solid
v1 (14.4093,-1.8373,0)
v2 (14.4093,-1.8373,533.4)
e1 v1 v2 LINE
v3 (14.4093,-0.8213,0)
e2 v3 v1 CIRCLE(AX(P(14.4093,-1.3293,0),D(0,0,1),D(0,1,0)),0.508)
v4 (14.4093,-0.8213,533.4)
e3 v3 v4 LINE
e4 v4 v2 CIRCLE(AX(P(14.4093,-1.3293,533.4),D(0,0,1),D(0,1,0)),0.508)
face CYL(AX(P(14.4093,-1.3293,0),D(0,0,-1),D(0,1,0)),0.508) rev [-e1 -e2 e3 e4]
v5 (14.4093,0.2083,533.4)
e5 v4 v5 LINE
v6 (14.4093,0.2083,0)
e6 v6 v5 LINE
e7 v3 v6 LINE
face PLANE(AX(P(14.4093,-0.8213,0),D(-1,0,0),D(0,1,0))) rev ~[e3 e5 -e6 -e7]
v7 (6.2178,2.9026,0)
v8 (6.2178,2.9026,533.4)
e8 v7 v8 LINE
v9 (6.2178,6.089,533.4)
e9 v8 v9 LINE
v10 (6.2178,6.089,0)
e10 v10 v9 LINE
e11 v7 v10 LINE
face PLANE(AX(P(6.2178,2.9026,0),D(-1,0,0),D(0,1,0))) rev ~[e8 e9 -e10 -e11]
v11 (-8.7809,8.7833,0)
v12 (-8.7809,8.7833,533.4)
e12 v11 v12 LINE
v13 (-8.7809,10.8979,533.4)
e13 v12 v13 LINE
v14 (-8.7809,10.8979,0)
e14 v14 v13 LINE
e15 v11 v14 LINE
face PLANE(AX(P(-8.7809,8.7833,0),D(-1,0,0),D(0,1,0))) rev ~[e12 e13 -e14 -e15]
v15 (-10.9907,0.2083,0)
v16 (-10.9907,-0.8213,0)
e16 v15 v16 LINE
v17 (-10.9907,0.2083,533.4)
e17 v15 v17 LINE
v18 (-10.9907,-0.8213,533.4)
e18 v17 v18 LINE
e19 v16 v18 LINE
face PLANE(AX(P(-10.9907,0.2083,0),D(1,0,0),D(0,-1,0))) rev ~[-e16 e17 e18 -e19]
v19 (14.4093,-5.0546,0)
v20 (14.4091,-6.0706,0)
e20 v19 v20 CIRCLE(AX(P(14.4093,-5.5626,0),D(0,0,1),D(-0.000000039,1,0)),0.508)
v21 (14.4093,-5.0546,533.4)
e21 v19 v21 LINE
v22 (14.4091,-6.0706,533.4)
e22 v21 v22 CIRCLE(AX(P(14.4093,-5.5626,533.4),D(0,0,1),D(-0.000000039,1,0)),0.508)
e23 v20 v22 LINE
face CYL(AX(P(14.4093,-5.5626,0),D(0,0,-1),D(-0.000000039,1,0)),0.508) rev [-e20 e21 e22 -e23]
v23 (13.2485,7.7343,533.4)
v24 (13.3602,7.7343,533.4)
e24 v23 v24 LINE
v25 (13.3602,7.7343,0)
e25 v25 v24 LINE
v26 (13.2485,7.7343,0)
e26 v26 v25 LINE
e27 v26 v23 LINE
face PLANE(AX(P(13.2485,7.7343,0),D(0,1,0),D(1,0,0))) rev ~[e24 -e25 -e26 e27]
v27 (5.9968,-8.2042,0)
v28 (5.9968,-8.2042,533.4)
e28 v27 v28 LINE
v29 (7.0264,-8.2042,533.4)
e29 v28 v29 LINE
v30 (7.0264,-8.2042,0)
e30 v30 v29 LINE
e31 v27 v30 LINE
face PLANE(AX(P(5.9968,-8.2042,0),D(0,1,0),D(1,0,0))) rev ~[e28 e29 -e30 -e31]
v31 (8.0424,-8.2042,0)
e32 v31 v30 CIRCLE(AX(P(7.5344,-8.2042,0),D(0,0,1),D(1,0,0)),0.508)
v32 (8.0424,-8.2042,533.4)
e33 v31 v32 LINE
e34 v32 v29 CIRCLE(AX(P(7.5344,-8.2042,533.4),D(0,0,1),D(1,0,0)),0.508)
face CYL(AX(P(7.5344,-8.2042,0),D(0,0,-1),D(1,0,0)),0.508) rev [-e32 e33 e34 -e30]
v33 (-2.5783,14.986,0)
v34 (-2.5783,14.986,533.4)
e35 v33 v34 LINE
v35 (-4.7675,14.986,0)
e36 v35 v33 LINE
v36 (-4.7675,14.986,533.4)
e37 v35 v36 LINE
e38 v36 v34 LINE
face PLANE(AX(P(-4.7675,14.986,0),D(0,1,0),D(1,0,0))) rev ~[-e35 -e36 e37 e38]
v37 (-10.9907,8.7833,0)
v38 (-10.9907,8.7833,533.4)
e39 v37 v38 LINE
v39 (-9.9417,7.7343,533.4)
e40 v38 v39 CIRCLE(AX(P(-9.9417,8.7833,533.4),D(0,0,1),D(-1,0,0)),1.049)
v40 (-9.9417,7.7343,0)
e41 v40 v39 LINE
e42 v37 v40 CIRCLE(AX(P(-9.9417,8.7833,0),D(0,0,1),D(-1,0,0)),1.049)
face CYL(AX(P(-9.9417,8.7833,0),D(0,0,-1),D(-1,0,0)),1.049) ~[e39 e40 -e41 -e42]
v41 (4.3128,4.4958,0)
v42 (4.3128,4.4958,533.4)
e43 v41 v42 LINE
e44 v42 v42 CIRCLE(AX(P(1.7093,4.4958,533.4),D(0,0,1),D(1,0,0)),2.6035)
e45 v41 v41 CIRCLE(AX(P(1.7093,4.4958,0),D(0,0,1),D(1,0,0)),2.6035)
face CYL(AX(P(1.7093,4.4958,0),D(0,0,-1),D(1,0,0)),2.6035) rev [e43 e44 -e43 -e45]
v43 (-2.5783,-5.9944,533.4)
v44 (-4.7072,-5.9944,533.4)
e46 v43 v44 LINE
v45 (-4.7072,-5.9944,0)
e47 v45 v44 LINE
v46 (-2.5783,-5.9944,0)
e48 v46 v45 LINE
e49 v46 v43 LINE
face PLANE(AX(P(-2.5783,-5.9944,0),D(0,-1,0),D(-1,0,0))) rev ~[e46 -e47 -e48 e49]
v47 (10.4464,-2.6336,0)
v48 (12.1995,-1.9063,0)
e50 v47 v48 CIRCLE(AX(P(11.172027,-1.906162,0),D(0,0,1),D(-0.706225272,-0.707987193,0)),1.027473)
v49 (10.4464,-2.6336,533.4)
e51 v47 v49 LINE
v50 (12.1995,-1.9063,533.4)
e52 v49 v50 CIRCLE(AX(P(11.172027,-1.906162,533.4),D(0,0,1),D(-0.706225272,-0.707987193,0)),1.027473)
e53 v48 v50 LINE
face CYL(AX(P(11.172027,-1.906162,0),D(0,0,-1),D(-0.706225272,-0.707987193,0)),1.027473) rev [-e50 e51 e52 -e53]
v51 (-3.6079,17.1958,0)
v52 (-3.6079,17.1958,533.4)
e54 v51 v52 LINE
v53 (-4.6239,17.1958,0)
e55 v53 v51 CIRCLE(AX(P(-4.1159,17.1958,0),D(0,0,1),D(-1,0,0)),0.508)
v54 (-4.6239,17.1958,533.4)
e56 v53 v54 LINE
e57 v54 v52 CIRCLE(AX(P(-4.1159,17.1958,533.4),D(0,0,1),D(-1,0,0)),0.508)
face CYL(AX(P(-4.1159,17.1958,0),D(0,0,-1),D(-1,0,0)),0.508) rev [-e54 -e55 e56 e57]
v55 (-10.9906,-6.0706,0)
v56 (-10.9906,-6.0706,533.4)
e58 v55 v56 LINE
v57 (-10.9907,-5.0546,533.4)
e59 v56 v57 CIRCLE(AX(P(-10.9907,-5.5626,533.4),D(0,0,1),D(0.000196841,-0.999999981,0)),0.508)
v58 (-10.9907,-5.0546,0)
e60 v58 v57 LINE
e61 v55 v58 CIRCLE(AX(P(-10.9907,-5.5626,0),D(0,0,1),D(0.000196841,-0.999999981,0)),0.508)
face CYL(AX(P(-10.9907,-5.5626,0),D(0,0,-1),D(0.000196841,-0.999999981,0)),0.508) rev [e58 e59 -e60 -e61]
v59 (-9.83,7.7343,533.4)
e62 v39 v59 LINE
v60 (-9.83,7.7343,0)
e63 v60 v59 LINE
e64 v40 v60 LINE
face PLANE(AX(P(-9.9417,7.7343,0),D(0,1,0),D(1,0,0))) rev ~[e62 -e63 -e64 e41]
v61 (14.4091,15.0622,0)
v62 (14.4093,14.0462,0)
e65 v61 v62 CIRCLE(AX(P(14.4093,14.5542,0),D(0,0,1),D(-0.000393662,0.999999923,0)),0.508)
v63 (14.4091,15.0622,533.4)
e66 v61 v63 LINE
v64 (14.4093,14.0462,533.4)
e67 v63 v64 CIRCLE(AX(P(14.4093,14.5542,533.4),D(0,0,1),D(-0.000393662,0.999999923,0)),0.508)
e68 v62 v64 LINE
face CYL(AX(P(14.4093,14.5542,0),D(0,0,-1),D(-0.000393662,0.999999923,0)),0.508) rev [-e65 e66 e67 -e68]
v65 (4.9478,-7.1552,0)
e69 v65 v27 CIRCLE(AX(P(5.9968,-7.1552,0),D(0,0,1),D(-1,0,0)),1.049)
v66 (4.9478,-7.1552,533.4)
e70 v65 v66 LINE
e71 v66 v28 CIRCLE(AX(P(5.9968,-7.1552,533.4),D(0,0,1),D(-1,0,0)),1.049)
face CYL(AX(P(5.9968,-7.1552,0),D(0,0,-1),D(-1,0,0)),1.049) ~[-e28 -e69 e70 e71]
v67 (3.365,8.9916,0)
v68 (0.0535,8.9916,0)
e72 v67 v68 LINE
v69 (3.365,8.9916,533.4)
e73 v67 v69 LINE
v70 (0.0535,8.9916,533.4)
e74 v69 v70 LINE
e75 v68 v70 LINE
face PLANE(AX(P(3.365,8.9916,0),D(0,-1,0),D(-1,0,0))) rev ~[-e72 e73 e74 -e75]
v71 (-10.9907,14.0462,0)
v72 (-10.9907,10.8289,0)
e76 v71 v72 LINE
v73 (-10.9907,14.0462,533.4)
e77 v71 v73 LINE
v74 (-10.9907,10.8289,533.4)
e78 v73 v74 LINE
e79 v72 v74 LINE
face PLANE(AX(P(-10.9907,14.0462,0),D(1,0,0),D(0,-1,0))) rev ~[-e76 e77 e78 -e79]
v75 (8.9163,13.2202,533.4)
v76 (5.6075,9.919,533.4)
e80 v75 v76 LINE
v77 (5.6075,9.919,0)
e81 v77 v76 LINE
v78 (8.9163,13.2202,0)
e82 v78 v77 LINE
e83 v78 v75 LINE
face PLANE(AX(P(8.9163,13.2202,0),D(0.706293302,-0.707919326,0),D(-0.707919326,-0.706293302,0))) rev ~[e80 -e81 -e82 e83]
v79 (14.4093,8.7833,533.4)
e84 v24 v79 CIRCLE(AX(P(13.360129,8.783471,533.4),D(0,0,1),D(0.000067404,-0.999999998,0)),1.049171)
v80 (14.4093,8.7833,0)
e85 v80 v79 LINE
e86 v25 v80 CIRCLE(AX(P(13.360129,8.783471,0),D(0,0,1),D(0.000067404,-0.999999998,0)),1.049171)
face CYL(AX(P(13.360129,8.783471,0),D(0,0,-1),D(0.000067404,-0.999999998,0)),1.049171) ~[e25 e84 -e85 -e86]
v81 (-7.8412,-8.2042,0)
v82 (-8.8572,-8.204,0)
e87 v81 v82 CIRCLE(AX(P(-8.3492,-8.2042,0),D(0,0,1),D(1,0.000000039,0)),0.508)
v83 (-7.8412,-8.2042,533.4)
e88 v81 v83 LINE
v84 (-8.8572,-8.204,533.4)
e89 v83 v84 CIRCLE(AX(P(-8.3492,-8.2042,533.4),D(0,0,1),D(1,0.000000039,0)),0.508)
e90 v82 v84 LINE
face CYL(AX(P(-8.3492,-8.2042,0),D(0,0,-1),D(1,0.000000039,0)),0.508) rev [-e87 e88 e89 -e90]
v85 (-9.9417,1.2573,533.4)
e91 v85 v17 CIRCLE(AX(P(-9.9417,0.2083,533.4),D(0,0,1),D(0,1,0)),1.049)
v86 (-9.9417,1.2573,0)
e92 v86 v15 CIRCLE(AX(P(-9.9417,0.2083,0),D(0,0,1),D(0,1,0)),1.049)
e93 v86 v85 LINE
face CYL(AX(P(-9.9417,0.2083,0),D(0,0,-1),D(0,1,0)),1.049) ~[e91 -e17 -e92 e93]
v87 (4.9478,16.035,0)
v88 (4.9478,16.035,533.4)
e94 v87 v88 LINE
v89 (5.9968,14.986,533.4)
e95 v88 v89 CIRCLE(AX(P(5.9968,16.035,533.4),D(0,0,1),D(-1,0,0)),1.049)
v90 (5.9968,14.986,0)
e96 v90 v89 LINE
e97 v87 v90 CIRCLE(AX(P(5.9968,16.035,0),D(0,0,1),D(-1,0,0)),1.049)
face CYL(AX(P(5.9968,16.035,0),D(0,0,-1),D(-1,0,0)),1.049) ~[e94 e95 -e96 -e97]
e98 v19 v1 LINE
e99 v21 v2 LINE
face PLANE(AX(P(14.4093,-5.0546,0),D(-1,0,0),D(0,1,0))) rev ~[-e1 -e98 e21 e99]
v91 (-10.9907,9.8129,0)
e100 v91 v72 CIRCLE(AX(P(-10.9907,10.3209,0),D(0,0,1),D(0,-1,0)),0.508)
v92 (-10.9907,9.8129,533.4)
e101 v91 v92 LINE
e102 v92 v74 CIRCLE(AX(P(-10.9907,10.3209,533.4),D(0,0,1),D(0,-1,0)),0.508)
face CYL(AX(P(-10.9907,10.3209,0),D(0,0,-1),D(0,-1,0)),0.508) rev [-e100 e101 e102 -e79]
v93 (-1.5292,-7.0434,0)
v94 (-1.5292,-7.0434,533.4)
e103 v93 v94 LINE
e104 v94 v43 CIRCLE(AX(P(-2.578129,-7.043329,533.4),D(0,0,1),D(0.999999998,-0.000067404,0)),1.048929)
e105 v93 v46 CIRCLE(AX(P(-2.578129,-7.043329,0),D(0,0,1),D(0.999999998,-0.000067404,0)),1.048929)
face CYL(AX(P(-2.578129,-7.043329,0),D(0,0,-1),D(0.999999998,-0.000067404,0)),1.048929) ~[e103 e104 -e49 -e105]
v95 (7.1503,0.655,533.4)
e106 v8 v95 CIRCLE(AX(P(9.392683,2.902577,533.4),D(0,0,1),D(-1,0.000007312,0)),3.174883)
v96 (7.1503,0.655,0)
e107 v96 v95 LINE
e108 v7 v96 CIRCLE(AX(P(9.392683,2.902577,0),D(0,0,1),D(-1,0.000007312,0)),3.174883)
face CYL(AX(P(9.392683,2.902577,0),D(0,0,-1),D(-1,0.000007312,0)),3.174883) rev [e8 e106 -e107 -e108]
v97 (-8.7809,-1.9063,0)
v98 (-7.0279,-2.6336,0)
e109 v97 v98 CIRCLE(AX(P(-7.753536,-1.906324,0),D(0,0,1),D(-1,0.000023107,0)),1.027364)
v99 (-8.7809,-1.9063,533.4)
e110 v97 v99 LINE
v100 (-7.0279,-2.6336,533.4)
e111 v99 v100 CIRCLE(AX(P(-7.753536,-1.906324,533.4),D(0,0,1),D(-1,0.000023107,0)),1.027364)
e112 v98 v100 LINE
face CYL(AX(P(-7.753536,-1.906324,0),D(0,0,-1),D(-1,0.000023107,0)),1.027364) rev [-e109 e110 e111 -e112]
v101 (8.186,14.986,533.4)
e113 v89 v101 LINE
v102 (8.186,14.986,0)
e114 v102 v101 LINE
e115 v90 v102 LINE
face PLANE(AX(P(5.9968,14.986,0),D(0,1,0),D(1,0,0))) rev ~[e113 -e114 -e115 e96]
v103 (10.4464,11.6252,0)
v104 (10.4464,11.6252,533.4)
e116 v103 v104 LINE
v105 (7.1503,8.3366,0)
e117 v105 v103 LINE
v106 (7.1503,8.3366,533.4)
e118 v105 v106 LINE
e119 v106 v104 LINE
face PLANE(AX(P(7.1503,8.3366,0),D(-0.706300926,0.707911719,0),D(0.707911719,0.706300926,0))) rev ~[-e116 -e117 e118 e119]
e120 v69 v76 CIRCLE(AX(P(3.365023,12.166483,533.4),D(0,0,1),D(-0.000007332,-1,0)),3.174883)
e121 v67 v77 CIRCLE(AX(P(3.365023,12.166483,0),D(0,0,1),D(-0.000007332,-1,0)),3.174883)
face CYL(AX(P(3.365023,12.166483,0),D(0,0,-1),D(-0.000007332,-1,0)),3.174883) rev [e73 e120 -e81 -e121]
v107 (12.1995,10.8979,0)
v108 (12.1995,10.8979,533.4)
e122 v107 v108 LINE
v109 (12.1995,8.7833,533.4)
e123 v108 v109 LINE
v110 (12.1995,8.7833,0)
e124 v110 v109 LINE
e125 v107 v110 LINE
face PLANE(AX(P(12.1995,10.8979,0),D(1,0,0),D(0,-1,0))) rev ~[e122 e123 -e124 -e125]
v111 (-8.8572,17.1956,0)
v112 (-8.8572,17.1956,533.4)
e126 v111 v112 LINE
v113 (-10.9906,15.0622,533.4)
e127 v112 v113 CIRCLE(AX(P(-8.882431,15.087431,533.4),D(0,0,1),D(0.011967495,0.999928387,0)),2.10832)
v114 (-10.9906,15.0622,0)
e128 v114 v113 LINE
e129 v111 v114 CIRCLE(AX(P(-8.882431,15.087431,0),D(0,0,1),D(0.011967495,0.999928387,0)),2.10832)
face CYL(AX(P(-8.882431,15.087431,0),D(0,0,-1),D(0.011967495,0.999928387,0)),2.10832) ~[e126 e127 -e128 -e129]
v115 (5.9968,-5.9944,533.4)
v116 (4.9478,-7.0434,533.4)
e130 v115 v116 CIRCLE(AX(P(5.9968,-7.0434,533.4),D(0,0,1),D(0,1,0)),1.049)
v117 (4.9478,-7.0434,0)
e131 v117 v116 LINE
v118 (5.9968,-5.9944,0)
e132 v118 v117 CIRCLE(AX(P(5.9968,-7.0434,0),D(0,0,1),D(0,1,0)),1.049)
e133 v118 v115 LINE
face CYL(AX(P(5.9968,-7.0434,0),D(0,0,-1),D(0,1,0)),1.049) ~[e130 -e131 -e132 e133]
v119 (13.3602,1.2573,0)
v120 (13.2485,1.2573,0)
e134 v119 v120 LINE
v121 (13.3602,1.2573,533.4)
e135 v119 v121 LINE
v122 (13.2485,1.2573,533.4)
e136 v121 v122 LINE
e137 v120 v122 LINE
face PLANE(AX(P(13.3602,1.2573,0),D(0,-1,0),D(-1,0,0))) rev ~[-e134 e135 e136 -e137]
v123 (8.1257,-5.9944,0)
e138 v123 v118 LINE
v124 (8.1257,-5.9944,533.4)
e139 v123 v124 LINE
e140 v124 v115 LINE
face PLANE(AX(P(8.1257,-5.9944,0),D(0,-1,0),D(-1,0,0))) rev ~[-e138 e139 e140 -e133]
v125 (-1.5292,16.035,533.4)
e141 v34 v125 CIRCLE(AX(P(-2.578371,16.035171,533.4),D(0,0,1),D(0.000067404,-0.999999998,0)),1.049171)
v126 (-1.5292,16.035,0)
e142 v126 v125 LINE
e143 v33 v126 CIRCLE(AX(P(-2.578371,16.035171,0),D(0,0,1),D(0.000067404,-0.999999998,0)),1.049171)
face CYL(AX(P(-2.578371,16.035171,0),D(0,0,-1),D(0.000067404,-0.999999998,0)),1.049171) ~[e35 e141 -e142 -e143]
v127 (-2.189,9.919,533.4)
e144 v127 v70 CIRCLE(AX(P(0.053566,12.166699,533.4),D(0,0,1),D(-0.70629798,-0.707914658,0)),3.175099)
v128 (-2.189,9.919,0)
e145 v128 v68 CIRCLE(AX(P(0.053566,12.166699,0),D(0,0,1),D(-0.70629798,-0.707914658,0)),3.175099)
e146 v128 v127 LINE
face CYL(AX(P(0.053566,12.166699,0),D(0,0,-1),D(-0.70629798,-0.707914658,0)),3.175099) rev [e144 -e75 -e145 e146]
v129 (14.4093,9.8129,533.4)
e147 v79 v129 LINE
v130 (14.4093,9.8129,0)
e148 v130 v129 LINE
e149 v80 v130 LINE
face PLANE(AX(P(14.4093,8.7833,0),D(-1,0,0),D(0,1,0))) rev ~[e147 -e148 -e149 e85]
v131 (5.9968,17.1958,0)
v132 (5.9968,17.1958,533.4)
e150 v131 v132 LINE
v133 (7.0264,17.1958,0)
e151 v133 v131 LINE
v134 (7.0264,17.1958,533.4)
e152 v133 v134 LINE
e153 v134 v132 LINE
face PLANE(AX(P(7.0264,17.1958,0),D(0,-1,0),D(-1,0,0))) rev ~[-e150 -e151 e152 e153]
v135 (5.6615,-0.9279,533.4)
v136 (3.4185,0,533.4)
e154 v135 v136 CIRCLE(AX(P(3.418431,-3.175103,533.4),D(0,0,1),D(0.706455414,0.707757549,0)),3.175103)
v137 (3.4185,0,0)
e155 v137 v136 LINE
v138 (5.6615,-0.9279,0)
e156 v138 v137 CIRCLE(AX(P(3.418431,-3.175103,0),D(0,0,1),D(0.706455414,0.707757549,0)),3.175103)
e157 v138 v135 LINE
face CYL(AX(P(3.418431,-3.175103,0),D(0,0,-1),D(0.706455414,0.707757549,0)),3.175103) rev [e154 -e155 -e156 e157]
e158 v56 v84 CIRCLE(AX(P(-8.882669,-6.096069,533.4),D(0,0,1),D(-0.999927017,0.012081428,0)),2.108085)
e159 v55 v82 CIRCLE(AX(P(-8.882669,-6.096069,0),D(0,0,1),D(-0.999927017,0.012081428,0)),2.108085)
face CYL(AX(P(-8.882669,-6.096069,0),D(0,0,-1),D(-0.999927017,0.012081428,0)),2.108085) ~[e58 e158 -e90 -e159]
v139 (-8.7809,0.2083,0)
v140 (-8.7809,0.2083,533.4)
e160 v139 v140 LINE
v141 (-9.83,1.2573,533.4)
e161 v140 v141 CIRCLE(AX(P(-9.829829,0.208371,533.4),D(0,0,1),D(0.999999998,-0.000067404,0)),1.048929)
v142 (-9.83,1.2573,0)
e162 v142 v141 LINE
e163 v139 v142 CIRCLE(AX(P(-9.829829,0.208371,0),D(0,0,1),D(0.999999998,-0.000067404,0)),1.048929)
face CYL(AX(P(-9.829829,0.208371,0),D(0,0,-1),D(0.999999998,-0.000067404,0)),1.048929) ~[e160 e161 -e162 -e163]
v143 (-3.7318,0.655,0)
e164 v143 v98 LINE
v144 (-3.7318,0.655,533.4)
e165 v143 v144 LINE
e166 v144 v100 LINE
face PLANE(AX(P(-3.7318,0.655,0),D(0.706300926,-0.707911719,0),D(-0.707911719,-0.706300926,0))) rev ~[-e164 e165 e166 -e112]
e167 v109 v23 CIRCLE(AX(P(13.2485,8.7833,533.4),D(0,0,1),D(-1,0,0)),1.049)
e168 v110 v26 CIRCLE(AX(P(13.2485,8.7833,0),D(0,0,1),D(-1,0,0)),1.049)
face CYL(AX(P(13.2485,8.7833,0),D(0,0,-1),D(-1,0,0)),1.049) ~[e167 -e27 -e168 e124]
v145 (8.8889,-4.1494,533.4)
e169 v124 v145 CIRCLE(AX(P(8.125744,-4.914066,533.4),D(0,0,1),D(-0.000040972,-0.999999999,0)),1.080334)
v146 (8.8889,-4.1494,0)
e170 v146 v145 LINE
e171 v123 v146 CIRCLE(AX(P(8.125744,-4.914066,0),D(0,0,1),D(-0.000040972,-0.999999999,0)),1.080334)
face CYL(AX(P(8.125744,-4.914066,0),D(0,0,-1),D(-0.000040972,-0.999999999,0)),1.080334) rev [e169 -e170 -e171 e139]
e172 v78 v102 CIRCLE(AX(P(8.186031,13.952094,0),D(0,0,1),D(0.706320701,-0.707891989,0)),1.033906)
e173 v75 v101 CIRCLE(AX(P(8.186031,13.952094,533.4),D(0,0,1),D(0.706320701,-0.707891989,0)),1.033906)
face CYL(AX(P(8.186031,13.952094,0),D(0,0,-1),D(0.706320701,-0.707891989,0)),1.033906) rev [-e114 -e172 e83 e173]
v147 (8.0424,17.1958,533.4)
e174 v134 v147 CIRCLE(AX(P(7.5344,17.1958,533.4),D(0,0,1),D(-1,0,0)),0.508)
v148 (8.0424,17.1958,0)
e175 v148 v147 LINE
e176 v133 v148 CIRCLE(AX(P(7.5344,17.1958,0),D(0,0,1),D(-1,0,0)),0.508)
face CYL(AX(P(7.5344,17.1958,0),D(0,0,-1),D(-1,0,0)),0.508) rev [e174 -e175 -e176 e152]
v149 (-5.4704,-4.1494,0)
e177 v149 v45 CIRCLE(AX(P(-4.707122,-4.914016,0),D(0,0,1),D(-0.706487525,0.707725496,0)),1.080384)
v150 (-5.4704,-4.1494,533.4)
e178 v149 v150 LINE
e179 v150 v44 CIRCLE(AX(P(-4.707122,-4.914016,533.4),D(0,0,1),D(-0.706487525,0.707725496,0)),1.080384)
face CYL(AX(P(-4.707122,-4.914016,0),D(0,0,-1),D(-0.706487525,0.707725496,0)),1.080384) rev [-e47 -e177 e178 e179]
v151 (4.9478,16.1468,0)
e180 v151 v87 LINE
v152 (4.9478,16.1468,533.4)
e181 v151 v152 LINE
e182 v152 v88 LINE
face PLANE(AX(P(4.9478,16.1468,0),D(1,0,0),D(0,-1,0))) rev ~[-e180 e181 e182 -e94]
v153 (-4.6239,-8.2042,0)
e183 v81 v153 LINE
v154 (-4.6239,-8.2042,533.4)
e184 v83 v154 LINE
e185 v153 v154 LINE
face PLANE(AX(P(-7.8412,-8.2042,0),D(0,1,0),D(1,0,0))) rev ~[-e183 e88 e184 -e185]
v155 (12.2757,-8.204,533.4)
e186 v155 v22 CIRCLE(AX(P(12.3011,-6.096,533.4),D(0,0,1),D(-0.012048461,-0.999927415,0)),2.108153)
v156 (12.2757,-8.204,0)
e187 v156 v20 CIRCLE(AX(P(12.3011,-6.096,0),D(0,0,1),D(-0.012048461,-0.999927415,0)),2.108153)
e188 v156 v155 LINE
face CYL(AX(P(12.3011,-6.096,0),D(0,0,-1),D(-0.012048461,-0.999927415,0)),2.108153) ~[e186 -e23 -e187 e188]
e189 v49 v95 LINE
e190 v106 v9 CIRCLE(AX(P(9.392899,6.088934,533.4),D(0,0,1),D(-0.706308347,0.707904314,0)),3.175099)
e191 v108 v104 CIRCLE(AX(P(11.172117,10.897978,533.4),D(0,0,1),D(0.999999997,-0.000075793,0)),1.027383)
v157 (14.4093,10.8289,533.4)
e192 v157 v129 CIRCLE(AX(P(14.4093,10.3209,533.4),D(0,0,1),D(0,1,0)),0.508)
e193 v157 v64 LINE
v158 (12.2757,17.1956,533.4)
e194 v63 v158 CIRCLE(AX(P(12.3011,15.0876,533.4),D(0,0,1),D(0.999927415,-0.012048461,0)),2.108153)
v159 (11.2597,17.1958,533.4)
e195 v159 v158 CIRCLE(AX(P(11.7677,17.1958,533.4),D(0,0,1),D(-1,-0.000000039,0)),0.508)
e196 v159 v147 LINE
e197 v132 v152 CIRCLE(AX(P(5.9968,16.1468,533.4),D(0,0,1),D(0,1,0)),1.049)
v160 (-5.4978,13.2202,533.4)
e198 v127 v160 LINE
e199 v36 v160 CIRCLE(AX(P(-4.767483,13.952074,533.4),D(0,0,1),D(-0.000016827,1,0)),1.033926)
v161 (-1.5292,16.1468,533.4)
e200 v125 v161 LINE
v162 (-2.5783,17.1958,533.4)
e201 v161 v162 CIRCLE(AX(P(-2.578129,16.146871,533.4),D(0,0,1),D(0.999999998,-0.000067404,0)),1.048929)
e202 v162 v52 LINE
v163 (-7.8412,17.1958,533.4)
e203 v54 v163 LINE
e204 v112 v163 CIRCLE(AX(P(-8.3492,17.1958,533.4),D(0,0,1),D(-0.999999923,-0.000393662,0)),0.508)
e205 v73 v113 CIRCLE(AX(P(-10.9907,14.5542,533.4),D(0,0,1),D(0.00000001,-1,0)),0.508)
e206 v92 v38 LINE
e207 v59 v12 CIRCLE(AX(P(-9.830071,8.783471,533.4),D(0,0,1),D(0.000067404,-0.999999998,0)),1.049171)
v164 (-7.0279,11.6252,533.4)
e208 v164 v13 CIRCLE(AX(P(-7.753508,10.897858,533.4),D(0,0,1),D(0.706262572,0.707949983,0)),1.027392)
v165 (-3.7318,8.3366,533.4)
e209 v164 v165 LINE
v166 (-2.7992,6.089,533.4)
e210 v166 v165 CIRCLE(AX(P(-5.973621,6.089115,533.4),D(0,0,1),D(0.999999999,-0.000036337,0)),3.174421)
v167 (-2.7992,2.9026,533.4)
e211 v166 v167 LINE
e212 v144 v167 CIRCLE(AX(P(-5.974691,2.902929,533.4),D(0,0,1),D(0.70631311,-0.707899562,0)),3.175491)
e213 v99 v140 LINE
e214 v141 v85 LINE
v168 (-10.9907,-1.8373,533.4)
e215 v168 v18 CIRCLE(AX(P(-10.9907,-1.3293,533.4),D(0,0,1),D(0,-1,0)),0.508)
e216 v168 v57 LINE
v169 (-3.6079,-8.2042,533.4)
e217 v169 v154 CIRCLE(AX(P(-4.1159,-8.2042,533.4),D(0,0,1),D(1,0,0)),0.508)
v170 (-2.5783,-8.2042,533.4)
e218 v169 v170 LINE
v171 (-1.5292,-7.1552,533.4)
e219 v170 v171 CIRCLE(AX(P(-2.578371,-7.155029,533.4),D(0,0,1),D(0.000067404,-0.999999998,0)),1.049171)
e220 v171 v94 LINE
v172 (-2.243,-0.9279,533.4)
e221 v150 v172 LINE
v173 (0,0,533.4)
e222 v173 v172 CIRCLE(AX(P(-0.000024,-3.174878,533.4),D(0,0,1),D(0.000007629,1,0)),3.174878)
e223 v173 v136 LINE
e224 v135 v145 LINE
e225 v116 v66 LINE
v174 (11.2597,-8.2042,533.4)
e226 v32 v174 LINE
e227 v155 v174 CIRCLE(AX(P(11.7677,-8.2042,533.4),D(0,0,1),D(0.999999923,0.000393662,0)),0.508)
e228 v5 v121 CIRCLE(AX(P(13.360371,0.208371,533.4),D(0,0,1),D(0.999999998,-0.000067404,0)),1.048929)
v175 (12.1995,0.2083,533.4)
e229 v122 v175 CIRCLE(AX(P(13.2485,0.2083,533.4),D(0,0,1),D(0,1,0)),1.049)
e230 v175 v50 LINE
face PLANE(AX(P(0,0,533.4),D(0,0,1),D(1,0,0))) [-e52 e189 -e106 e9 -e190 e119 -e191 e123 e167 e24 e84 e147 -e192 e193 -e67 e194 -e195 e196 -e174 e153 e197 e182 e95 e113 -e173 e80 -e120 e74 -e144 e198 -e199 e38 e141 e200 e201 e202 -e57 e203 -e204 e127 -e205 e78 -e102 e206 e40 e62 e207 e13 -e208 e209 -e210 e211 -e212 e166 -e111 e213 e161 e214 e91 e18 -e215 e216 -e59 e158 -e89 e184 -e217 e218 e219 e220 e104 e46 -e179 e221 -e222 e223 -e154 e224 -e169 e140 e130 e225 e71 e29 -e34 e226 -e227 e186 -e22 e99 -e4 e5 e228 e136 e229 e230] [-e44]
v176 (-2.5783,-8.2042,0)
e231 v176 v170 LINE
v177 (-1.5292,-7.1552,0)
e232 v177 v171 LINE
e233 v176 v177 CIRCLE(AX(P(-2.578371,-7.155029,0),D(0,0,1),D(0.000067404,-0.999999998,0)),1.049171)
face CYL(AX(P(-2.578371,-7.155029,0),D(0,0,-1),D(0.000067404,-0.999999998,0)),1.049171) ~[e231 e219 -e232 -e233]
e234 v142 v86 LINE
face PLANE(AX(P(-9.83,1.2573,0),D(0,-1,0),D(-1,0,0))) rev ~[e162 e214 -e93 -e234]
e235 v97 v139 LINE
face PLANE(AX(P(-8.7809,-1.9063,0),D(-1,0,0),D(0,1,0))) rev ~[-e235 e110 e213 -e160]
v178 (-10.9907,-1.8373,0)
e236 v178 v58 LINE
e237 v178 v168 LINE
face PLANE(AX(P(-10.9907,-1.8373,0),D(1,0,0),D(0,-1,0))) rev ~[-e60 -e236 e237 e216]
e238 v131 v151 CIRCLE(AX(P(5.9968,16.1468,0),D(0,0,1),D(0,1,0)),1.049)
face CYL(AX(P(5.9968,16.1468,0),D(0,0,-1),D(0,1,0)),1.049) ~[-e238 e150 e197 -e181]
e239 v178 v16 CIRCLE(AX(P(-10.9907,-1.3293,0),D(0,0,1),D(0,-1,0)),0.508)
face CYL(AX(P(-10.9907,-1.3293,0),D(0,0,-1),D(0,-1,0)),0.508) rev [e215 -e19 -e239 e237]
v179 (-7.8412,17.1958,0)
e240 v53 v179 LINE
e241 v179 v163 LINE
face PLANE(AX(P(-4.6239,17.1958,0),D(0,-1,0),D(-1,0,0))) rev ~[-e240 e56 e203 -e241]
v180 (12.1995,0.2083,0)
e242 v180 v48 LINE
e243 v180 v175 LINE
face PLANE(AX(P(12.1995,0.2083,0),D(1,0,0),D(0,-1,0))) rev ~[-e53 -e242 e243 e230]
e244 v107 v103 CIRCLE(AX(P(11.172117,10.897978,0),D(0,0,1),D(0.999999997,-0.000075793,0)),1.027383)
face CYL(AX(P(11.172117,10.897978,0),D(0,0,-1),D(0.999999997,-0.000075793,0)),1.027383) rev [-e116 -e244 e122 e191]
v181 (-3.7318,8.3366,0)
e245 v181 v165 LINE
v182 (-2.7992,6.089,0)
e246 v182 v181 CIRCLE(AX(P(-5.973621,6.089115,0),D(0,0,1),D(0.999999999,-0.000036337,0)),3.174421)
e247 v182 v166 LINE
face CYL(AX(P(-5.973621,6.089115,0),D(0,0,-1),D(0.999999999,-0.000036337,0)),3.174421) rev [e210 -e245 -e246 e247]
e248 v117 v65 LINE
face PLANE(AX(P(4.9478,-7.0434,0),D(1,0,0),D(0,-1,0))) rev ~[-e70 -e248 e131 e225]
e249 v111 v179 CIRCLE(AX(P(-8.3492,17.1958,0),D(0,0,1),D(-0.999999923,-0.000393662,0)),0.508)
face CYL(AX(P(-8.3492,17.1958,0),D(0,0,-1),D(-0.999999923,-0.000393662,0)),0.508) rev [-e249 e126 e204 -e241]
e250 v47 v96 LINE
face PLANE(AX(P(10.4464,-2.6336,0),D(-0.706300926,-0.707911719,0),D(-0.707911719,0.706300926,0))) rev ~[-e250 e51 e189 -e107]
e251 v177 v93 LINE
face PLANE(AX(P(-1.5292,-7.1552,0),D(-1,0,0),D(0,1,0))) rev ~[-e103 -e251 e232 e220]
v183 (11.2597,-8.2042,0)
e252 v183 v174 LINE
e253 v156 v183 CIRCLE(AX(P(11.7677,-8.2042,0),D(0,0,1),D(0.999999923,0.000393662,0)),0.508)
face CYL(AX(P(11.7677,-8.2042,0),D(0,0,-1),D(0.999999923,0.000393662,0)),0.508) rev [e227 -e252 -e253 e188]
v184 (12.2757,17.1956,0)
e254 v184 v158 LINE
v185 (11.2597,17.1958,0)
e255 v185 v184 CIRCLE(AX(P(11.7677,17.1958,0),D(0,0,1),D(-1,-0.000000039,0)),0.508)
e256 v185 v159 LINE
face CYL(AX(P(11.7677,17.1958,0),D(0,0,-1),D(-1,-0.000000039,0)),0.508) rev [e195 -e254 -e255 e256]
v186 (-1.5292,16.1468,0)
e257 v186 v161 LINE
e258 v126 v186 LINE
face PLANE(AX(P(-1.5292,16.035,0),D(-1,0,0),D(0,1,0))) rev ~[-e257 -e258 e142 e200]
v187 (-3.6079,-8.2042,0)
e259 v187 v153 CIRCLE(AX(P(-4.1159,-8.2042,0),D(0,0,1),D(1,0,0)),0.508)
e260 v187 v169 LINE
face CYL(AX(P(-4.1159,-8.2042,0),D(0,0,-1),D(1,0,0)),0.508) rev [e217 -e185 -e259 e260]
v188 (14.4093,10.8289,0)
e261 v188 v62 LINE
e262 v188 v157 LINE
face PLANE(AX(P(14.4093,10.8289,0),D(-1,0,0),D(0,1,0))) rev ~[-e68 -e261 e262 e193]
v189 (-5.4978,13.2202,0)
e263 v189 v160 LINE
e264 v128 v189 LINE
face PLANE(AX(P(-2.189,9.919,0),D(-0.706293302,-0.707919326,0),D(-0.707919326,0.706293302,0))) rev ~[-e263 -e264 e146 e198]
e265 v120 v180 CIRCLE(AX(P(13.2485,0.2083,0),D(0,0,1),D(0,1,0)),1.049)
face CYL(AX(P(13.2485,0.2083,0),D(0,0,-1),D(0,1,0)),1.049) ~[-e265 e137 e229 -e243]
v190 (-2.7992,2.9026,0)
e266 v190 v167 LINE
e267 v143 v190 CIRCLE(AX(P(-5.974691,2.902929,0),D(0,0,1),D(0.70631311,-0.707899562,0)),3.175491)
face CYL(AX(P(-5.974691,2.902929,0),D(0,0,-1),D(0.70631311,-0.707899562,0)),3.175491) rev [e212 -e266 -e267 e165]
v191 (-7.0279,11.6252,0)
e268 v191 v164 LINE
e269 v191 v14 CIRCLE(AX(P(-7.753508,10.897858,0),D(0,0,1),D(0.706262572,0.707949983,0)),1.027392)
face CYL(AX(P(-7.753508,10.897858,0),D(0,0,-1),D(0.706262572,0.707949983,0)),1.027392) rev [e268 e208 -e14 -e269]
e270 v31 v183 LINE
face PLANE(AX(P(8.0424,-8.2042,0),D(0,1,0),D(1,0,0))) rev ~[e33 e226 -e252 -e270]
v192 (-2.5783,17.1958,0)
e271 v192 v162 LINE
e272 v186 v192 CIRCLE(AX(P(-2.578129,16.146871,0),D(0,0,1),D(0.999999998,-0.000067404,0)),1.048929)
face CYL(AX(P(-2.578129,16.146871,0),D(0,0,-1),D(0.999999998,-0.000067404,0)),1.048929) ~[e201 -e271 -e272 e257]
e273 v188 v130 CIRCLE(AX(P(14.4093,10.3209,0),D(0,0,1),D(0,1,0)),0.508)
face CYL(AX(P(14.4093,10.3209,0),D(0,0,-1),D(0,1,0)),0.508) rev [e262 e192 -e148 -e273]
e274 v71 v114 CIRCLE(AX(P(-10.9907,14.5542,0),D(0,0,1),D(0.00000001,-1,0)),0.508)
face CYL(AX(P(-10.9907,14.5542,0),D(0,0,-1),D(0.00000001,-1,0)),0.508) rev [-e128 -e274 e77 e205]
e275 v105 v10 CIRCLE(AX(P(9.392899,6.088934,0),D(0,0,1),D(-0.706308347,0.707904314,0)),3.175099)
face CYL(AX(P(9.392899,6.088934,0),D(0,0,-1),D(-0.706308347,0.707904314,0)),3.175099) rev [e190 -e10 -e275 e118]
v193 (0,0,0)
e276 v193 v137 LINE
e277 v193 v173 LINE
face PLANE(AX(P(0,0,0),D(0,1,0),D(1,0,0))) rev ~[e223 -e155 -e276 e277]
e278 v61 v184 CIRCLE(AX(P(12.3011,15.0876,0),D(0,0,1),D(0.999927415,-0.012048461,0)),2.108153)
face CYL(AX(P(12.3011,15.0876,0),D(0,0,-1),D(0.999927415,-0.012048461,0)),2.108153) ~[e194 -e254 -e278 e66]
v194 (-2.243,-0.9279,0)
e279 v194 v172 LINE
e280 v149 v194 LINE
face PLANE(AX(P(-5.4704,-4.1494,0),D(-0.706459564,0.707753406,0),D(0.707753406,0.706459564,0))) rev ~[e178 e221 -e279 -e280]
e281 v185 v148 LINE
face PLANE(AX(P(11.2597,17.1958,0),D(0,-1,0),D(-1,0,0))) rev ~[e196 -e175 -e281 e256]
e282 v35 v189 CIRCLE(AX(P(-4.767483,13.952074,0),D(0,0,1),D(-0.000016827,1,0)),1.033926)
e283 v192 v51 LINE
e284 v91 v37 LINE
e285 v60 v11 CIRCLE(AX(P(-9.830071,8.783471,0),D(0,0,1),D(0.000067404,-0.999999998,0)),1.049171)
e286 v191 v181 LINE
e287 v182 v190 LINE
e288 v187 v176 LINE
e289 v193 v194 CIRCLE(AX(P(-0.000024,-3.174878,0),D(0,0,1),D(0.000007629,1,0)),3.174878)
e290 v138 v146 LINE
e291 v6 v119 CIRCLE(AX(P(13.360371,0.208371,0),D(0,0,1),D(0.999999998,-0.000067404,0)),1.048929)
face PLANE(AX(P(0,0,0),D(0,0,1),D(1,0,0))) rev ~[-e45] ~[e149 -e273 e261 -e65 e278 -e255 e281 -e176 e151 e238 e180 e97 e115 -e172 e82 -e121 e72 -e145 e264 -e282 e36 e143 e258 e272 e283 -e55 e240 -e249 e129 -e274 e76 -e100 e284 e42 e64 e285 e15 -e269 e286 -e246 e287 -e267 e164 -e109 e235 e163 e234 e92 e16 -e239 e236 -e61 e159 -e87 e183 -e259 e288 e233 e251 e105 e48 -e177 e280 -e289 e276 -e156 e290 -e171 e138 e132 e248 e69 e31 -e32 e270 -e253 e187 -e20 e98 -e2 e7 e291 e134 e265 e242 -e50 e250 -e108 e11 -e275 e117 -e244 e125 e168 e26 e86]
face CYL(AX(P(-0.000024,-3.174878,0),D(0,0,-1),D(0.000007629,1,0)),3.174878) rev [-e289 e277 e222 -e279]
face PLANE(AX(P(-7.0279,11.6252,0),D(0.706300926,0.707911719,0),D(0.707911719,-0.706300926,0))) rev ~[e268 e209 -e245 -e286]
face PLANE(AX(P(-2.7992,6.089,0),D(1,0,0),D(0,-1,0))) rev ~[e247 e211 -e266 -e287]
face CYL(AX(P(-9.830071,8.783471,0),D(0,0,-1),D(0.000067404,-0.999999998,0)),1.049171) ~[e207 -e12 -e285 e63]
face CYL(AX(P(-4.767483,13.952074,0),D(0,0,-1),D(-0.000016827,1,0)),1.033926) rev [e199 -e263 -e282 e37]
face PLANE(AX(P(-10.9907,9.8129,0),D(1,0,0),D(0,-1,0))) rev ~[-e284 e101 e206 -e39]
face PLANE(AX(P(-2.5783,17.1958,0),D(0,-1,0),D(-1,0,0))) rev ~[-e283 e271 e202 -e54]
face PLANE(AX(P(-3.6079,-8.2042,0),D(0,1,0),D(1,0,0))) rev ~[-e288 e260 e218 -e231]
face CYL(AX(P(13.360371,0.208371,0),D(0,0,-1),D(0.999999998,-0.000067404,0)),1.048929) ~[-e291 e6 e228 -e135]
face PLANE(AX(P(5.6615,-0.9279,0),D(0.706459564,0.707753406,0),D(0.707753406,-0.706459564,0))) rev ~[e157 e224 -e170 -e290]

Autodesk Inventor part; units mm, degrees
ref_plane "YZ Plane" through (0, 0, 0) normal (1, 0, 0) x (0, 1, 0)
ref_plane "XZ Plane" through (0, 0, 0) normal (0, 1, 0) x (-1, 0, 0)
ref_plane "XY Plane" through (0, 0, 0) normal (0, 0, 1) x (1, 0, 0)
sketch "Sketch1" plane through (0, 0, 0) normal (0, 0, 1) x (1, 0, 0)
  arc A0 (-5.4704, -4.1494) -> (-4.7072, -5.9944) centre (-4.7072, -4.914) ccw
  line L0 (-5.4704, -4.1494) -> (-2.243, -0.9279)
  arc A1 (0, 0) -> (-2.243, -0.9279) centre (0, -3.175) ccw
  line L1 (0, 0) -> (3.4185, 0)
  arc A2 (5.6615, -0.9279) -> (3.4185, 0) centre (3.4185, -3.175) ccw
  line L2 (5.6615, -0.9279) -> (8.8889, -4.1494)
  arc A3 (8.1257, -5.9944) -> (8.8889, -4.1494) centre (8.1257, -4.914) ccw
  line L3 (8.1257, -5.9944) -> (5.9968, -5.9944)
  arc A4 (5.9968, -5.9944) -> (4.9478, -7.0434) centre (5.9968, -7.0434) ccw
  line L4 (4.9478, -7.0434) -> (4.9478, -7.1552)
  arc A5 (4.9478, -7.1552) -> (5.9968, -8.2042) centre (5.9968, -7.1552) ccw
  line L5 (5.9968, -8.2042) -> (7.0264, -8.2042)
  arc A6 (8.0424, -8.2042) -> (7.0264, -8.2042) centre (7.5344, -8.2042) ccw
  line L6 (8.0424, -8.2042) -> (11.2597, -8.2042)
  arc A7 (12.2757, -8.204) -> (11.2597, -8.2042) centre (11.7677, -8.2042) ccw
  arc A8 (12.2757, -8.204) -> (14.4091, -6.0706) centre (12.3011, -6.096) ccw
  arc A9 (14.4093, -5.0546) -> (14.4091, -6.0706) centre (14.4093, -5.5626) ccw
  line L7 (14.4093, -5.0546) -> (14.4093, -1.8373)
  arc A10 (14.4093, -0.8213) -> (14.4093, -1.8373) centre (14.4093, -1.3293) ccw
  line L8 (14.4093, -0.8213) -> (14.4093, 0.2083)
  arc A11 (14.4093, 0.2083) -> (13.3602, 1.2573) centre (13.3602, 0.2083) ccw
  line L9 (13.3602, 1.2573) -> (13.2485, 1.2573)
  arc A12 (13.2485, 1.2573) -> (12.1995, 0.2083) centre (13.2485, 0.2083) ccw
  line L10 (12.1995, 0.2083) -> (12.1995, -1.9063)
  arc A13 (10.4464, -2.6336) -> (12.1995, -1.9063) centre (11.172, -1.9063) ccw
  line L11 (10.4464, -2.6336) -> (7.1503, 0.655)
  arc A14 (6.2178, 2.9026) -> (7.1503, 0.655) centre (9.3928, 2.9026) ccw
  line L12 (6.2178, 2.9026) -> (6.2178, 6.089)
  arc A15 (7.1503, 8.3366) -> (6.2178, 6.089) centre (9.3928, 6.089) ccw
  line L13 (7.1503, 8.3366) -> (10.4464, 11.6252)
  arc A16 (12.1995, 10.8979) -> (10.4464, 11.6252) centre (11.172, 10.8979) ccw
  line L14 (12.1995, 10.8979) -> (12.1995, 8.7833)
  arc A17 (12.1995, 8.7833) -> (13.2485, 7.7343) centre (13.2485, 8.7833) ccw
  line L15 (13.2485, 7.7343) -> (13.3602, 7.7343)
  arc A18 (13.3602, 7.7343) -> (14.4093, 8.7833) centre (13.3602, 8.7833) ccw
  line L16 (14.4093, 8.7833) -> (14.4093, 9.8129)
  arc A19 (14.4093, 10.8289) -> (14.4093, 9.8129) centre (14.4093, 10.3209) ccw
  line L17 (14.4093, 10.8289) -> (14.4093, 14.0462)
  arc A20 (14.4091, 15.0622) -> (14.4093, 14.0462) centre (14.4093, 14.5542) ccw
  arc A21 (14.4091, 15.0622) -> (12.2757, 17.1956) centre (12.3011, 15.0876) ccw
  arc A22 (11.2597, 17.1958) -> (12.2757, 17.1956) centre (11.7677, 17.1958) ccw
  line L18 (11.2597, 17.1958) -> (8.0424, 17.1958)
  arc A23 (7.0264, 17.1958) -> (8.0424, 17.1958) centre (7.5344, 17.1958) ccw
  line L19 (7.0264, 17.1958) -> (5.9968, 17.1958)
  arc A24 (5.9968, 17.1958) -> (4.9478, 16.1468) centre (5.9968, 16.1468) ccw
  line L20 (4.9478, 16.1468) -> (4.9478, 16.035)
  arc A25 (4.9478, 16.035) -> (5.9968, 14.986) centre (5.9968, 16.035) ccw
  line L21 (5.9968, 14.986) -> (8.186, 14.986)
  arc A26 (8.9163, 13.2202) -> (8.186, 14.986) centre (8.186, 13.9521) ccw
  line L22 (8.9163, 13.2202) -> (5.6075, 9.919)
  arc A27 (3.365, 8.9916) -> (5.6075, 9.919) centre (3.365, 12.1666) ccw
  line L23 (3.365, 8.9916) -> (0.0535, 8.9916)
  arc A28 (-2.189, 9.919) -> (0.0535, 8.9916) centre (0.0535, 12.1666) ccw
  line L24 (-2.189, 9.919) -> (-5.4978, 13.2202)
  arc A29 (-4.7675, 14.986) -> (-5.4978, 13.2202) centre (-4.7675, 13.9521) ccw
  line L25 (-4.7675, 14.986) -> (-2.5783, 14.986)
  arc A30 (-2.5783, 14.986) -> (-1.5292, 16.035) centre (-2.5783, 16.035) ccw
  line L26 (-1.5292, 16.035) -> (-1.5292, 16.1468)
  arc A31 (-1.5292, 16.1468) -> (-2.5783, 17.1958) centre (-2.5783, 16.1468) ccw
  line L27 (-2.5783, 17.1958) -> (-3.6079, 17.1958)
  arc A32 (-4.6239, 17.1958) -> (-3.6079, 17.1958) centre (-4.1159, 17.1958) ccw
  line L28 (-4.6239, 17.1958) -> (-7.8412, 17.1958)
  arc A33 (-8.8572, 17.1956) -> (-7.8412, 17.1958) centre (-8.3492, 17.1958) ccw
  arc A34 (-8.8572, 17.1956) -> (-10.9906, 15.0622) centre (-8.8825, 15.0876) ccw
  arc A35 (-10.9907, 14.0462) -> (-10.9906, 15.0622) centre (-10.9907, 14.5542) ccw
  line L29 (-10.9907, 14.0462) -> (-10.9907, 10.8289)
  arc A36 (-10.9907, 9.8129) -> (-10.9907, 10.8289) centre (-10.9907, 10.3209) ccw
  line L30 (-10.9907, 9.8129) -> (-10.9907, 8.7833)
  arc A37 (-10.9907, 8.7833) -> (-9.9417, 7.7343) centre (-9.9417, 8.7833) ccw
  line L31 (-9.9417, 7.7343) -> (-9.83, 7.7343)
  arc A38 (-9.83, 7.7343) -> (-8.7809, 8.7833) centre (-9.83, 8.7833) ccw
  line L32 (-8.7809, 8.7833) -> (-8.7809, 10.8979)
  arc A39 (-7.0279, 11.6252) -> (-8.7809, 10.8979) centre (-7.7535, 10.8979) ccw
  line L33 (-7.0279, 11.6252) -> (-3.7318, 8.3366)
  arc A40 (-2.7992, 6.089) -> (-3.7318, 8.3366) centre (-5.9742, 6.089) ccw
  line L34 (-2.7992, 6.089) -> (-2.7992, 2.9026)
  arc A41 (-3.7318, 0.655) -> (-2.7992, 2.9026) centre (-5.9742, 2.9026) ccw
  line L35 (-3.7318, 0.655) -> (-7.0279, -2.6336)
  arc A42 (-8.7809, -1.9063) -> (-7.0279, -2.6336) centre (-7.7535, -1.9063) ccw
  line L36 (-8.7809, -1.9063) -> (-8.7809, 0.2083)
  arc A43 (-8.7809, 0.2083) -> (-9.83, 1.2573) centre (-9.83, 0.2083) ccw
  line L37 (-9.83, 1.2573) -> (-9.9417, 1.2573)
  arc A44 (-9.9417, 1.2573) -> (-10.9907, 0.2083) centre (-9.9417, 0.2083) ccw
  line L38 (-10.9907, 0.2083) -> (-10.9907, -0.8213)
  arc A45 (-10.9907, -1.8373) -> (-10.9907, -0.8213) centre (-10.9907, -1.3293) ccw
  line L39 (-10.9907, -1.8373) -> (-10.9907, -5.0546)
  arc A46 (-10.9906, -6.0706) -> (-10.9907, -5.0546) centre (-10.9907, -5.5626) ccw
  arc A47 (-10.9906, -6.0706) -> (-8.8572, -8.204) centre (-8.8825, -6.096) ccw
  arc A48 (-7.8412, -8.2042) -> (-8.8572, -8.204) centre (-8.3492, -8.2042) ccw
  line L40 (-7.8412, -8.2042) -> (-4.6239, -8.2042)
  arc A49 (-3.6079, -8.2042) -> (-4.6239, -8.2042) centre (-4.1159, -8.2042) ccw
  line L41 (-3.6079, -8.2042) -> (-2.5783, -8.2042)
  arc A50 (-2.5783, -8.2042) -> (-1.5292, -7.1552) centre (-2.5783, -7.1552) ccw
  line L42 (-1.5292, -7.1552) -> (-1.5292, -7.0434)
  arc A51 (-1.5292, -7.0434) -> (-2.5783, -5.9944) centre (-2.5783, -7.0434) ccw
  line L43 (-2.5783, -5.9944) -> (-4.7072, -5.9944)
  circle A52 centre (1.7093, 4.4958) radius 2.6035
extrude "Extrusion1" add sketch "Sketch1" along normal blind 533.4
properties part number "21 in 1x1 T slot" material "Steel, Alloy"
